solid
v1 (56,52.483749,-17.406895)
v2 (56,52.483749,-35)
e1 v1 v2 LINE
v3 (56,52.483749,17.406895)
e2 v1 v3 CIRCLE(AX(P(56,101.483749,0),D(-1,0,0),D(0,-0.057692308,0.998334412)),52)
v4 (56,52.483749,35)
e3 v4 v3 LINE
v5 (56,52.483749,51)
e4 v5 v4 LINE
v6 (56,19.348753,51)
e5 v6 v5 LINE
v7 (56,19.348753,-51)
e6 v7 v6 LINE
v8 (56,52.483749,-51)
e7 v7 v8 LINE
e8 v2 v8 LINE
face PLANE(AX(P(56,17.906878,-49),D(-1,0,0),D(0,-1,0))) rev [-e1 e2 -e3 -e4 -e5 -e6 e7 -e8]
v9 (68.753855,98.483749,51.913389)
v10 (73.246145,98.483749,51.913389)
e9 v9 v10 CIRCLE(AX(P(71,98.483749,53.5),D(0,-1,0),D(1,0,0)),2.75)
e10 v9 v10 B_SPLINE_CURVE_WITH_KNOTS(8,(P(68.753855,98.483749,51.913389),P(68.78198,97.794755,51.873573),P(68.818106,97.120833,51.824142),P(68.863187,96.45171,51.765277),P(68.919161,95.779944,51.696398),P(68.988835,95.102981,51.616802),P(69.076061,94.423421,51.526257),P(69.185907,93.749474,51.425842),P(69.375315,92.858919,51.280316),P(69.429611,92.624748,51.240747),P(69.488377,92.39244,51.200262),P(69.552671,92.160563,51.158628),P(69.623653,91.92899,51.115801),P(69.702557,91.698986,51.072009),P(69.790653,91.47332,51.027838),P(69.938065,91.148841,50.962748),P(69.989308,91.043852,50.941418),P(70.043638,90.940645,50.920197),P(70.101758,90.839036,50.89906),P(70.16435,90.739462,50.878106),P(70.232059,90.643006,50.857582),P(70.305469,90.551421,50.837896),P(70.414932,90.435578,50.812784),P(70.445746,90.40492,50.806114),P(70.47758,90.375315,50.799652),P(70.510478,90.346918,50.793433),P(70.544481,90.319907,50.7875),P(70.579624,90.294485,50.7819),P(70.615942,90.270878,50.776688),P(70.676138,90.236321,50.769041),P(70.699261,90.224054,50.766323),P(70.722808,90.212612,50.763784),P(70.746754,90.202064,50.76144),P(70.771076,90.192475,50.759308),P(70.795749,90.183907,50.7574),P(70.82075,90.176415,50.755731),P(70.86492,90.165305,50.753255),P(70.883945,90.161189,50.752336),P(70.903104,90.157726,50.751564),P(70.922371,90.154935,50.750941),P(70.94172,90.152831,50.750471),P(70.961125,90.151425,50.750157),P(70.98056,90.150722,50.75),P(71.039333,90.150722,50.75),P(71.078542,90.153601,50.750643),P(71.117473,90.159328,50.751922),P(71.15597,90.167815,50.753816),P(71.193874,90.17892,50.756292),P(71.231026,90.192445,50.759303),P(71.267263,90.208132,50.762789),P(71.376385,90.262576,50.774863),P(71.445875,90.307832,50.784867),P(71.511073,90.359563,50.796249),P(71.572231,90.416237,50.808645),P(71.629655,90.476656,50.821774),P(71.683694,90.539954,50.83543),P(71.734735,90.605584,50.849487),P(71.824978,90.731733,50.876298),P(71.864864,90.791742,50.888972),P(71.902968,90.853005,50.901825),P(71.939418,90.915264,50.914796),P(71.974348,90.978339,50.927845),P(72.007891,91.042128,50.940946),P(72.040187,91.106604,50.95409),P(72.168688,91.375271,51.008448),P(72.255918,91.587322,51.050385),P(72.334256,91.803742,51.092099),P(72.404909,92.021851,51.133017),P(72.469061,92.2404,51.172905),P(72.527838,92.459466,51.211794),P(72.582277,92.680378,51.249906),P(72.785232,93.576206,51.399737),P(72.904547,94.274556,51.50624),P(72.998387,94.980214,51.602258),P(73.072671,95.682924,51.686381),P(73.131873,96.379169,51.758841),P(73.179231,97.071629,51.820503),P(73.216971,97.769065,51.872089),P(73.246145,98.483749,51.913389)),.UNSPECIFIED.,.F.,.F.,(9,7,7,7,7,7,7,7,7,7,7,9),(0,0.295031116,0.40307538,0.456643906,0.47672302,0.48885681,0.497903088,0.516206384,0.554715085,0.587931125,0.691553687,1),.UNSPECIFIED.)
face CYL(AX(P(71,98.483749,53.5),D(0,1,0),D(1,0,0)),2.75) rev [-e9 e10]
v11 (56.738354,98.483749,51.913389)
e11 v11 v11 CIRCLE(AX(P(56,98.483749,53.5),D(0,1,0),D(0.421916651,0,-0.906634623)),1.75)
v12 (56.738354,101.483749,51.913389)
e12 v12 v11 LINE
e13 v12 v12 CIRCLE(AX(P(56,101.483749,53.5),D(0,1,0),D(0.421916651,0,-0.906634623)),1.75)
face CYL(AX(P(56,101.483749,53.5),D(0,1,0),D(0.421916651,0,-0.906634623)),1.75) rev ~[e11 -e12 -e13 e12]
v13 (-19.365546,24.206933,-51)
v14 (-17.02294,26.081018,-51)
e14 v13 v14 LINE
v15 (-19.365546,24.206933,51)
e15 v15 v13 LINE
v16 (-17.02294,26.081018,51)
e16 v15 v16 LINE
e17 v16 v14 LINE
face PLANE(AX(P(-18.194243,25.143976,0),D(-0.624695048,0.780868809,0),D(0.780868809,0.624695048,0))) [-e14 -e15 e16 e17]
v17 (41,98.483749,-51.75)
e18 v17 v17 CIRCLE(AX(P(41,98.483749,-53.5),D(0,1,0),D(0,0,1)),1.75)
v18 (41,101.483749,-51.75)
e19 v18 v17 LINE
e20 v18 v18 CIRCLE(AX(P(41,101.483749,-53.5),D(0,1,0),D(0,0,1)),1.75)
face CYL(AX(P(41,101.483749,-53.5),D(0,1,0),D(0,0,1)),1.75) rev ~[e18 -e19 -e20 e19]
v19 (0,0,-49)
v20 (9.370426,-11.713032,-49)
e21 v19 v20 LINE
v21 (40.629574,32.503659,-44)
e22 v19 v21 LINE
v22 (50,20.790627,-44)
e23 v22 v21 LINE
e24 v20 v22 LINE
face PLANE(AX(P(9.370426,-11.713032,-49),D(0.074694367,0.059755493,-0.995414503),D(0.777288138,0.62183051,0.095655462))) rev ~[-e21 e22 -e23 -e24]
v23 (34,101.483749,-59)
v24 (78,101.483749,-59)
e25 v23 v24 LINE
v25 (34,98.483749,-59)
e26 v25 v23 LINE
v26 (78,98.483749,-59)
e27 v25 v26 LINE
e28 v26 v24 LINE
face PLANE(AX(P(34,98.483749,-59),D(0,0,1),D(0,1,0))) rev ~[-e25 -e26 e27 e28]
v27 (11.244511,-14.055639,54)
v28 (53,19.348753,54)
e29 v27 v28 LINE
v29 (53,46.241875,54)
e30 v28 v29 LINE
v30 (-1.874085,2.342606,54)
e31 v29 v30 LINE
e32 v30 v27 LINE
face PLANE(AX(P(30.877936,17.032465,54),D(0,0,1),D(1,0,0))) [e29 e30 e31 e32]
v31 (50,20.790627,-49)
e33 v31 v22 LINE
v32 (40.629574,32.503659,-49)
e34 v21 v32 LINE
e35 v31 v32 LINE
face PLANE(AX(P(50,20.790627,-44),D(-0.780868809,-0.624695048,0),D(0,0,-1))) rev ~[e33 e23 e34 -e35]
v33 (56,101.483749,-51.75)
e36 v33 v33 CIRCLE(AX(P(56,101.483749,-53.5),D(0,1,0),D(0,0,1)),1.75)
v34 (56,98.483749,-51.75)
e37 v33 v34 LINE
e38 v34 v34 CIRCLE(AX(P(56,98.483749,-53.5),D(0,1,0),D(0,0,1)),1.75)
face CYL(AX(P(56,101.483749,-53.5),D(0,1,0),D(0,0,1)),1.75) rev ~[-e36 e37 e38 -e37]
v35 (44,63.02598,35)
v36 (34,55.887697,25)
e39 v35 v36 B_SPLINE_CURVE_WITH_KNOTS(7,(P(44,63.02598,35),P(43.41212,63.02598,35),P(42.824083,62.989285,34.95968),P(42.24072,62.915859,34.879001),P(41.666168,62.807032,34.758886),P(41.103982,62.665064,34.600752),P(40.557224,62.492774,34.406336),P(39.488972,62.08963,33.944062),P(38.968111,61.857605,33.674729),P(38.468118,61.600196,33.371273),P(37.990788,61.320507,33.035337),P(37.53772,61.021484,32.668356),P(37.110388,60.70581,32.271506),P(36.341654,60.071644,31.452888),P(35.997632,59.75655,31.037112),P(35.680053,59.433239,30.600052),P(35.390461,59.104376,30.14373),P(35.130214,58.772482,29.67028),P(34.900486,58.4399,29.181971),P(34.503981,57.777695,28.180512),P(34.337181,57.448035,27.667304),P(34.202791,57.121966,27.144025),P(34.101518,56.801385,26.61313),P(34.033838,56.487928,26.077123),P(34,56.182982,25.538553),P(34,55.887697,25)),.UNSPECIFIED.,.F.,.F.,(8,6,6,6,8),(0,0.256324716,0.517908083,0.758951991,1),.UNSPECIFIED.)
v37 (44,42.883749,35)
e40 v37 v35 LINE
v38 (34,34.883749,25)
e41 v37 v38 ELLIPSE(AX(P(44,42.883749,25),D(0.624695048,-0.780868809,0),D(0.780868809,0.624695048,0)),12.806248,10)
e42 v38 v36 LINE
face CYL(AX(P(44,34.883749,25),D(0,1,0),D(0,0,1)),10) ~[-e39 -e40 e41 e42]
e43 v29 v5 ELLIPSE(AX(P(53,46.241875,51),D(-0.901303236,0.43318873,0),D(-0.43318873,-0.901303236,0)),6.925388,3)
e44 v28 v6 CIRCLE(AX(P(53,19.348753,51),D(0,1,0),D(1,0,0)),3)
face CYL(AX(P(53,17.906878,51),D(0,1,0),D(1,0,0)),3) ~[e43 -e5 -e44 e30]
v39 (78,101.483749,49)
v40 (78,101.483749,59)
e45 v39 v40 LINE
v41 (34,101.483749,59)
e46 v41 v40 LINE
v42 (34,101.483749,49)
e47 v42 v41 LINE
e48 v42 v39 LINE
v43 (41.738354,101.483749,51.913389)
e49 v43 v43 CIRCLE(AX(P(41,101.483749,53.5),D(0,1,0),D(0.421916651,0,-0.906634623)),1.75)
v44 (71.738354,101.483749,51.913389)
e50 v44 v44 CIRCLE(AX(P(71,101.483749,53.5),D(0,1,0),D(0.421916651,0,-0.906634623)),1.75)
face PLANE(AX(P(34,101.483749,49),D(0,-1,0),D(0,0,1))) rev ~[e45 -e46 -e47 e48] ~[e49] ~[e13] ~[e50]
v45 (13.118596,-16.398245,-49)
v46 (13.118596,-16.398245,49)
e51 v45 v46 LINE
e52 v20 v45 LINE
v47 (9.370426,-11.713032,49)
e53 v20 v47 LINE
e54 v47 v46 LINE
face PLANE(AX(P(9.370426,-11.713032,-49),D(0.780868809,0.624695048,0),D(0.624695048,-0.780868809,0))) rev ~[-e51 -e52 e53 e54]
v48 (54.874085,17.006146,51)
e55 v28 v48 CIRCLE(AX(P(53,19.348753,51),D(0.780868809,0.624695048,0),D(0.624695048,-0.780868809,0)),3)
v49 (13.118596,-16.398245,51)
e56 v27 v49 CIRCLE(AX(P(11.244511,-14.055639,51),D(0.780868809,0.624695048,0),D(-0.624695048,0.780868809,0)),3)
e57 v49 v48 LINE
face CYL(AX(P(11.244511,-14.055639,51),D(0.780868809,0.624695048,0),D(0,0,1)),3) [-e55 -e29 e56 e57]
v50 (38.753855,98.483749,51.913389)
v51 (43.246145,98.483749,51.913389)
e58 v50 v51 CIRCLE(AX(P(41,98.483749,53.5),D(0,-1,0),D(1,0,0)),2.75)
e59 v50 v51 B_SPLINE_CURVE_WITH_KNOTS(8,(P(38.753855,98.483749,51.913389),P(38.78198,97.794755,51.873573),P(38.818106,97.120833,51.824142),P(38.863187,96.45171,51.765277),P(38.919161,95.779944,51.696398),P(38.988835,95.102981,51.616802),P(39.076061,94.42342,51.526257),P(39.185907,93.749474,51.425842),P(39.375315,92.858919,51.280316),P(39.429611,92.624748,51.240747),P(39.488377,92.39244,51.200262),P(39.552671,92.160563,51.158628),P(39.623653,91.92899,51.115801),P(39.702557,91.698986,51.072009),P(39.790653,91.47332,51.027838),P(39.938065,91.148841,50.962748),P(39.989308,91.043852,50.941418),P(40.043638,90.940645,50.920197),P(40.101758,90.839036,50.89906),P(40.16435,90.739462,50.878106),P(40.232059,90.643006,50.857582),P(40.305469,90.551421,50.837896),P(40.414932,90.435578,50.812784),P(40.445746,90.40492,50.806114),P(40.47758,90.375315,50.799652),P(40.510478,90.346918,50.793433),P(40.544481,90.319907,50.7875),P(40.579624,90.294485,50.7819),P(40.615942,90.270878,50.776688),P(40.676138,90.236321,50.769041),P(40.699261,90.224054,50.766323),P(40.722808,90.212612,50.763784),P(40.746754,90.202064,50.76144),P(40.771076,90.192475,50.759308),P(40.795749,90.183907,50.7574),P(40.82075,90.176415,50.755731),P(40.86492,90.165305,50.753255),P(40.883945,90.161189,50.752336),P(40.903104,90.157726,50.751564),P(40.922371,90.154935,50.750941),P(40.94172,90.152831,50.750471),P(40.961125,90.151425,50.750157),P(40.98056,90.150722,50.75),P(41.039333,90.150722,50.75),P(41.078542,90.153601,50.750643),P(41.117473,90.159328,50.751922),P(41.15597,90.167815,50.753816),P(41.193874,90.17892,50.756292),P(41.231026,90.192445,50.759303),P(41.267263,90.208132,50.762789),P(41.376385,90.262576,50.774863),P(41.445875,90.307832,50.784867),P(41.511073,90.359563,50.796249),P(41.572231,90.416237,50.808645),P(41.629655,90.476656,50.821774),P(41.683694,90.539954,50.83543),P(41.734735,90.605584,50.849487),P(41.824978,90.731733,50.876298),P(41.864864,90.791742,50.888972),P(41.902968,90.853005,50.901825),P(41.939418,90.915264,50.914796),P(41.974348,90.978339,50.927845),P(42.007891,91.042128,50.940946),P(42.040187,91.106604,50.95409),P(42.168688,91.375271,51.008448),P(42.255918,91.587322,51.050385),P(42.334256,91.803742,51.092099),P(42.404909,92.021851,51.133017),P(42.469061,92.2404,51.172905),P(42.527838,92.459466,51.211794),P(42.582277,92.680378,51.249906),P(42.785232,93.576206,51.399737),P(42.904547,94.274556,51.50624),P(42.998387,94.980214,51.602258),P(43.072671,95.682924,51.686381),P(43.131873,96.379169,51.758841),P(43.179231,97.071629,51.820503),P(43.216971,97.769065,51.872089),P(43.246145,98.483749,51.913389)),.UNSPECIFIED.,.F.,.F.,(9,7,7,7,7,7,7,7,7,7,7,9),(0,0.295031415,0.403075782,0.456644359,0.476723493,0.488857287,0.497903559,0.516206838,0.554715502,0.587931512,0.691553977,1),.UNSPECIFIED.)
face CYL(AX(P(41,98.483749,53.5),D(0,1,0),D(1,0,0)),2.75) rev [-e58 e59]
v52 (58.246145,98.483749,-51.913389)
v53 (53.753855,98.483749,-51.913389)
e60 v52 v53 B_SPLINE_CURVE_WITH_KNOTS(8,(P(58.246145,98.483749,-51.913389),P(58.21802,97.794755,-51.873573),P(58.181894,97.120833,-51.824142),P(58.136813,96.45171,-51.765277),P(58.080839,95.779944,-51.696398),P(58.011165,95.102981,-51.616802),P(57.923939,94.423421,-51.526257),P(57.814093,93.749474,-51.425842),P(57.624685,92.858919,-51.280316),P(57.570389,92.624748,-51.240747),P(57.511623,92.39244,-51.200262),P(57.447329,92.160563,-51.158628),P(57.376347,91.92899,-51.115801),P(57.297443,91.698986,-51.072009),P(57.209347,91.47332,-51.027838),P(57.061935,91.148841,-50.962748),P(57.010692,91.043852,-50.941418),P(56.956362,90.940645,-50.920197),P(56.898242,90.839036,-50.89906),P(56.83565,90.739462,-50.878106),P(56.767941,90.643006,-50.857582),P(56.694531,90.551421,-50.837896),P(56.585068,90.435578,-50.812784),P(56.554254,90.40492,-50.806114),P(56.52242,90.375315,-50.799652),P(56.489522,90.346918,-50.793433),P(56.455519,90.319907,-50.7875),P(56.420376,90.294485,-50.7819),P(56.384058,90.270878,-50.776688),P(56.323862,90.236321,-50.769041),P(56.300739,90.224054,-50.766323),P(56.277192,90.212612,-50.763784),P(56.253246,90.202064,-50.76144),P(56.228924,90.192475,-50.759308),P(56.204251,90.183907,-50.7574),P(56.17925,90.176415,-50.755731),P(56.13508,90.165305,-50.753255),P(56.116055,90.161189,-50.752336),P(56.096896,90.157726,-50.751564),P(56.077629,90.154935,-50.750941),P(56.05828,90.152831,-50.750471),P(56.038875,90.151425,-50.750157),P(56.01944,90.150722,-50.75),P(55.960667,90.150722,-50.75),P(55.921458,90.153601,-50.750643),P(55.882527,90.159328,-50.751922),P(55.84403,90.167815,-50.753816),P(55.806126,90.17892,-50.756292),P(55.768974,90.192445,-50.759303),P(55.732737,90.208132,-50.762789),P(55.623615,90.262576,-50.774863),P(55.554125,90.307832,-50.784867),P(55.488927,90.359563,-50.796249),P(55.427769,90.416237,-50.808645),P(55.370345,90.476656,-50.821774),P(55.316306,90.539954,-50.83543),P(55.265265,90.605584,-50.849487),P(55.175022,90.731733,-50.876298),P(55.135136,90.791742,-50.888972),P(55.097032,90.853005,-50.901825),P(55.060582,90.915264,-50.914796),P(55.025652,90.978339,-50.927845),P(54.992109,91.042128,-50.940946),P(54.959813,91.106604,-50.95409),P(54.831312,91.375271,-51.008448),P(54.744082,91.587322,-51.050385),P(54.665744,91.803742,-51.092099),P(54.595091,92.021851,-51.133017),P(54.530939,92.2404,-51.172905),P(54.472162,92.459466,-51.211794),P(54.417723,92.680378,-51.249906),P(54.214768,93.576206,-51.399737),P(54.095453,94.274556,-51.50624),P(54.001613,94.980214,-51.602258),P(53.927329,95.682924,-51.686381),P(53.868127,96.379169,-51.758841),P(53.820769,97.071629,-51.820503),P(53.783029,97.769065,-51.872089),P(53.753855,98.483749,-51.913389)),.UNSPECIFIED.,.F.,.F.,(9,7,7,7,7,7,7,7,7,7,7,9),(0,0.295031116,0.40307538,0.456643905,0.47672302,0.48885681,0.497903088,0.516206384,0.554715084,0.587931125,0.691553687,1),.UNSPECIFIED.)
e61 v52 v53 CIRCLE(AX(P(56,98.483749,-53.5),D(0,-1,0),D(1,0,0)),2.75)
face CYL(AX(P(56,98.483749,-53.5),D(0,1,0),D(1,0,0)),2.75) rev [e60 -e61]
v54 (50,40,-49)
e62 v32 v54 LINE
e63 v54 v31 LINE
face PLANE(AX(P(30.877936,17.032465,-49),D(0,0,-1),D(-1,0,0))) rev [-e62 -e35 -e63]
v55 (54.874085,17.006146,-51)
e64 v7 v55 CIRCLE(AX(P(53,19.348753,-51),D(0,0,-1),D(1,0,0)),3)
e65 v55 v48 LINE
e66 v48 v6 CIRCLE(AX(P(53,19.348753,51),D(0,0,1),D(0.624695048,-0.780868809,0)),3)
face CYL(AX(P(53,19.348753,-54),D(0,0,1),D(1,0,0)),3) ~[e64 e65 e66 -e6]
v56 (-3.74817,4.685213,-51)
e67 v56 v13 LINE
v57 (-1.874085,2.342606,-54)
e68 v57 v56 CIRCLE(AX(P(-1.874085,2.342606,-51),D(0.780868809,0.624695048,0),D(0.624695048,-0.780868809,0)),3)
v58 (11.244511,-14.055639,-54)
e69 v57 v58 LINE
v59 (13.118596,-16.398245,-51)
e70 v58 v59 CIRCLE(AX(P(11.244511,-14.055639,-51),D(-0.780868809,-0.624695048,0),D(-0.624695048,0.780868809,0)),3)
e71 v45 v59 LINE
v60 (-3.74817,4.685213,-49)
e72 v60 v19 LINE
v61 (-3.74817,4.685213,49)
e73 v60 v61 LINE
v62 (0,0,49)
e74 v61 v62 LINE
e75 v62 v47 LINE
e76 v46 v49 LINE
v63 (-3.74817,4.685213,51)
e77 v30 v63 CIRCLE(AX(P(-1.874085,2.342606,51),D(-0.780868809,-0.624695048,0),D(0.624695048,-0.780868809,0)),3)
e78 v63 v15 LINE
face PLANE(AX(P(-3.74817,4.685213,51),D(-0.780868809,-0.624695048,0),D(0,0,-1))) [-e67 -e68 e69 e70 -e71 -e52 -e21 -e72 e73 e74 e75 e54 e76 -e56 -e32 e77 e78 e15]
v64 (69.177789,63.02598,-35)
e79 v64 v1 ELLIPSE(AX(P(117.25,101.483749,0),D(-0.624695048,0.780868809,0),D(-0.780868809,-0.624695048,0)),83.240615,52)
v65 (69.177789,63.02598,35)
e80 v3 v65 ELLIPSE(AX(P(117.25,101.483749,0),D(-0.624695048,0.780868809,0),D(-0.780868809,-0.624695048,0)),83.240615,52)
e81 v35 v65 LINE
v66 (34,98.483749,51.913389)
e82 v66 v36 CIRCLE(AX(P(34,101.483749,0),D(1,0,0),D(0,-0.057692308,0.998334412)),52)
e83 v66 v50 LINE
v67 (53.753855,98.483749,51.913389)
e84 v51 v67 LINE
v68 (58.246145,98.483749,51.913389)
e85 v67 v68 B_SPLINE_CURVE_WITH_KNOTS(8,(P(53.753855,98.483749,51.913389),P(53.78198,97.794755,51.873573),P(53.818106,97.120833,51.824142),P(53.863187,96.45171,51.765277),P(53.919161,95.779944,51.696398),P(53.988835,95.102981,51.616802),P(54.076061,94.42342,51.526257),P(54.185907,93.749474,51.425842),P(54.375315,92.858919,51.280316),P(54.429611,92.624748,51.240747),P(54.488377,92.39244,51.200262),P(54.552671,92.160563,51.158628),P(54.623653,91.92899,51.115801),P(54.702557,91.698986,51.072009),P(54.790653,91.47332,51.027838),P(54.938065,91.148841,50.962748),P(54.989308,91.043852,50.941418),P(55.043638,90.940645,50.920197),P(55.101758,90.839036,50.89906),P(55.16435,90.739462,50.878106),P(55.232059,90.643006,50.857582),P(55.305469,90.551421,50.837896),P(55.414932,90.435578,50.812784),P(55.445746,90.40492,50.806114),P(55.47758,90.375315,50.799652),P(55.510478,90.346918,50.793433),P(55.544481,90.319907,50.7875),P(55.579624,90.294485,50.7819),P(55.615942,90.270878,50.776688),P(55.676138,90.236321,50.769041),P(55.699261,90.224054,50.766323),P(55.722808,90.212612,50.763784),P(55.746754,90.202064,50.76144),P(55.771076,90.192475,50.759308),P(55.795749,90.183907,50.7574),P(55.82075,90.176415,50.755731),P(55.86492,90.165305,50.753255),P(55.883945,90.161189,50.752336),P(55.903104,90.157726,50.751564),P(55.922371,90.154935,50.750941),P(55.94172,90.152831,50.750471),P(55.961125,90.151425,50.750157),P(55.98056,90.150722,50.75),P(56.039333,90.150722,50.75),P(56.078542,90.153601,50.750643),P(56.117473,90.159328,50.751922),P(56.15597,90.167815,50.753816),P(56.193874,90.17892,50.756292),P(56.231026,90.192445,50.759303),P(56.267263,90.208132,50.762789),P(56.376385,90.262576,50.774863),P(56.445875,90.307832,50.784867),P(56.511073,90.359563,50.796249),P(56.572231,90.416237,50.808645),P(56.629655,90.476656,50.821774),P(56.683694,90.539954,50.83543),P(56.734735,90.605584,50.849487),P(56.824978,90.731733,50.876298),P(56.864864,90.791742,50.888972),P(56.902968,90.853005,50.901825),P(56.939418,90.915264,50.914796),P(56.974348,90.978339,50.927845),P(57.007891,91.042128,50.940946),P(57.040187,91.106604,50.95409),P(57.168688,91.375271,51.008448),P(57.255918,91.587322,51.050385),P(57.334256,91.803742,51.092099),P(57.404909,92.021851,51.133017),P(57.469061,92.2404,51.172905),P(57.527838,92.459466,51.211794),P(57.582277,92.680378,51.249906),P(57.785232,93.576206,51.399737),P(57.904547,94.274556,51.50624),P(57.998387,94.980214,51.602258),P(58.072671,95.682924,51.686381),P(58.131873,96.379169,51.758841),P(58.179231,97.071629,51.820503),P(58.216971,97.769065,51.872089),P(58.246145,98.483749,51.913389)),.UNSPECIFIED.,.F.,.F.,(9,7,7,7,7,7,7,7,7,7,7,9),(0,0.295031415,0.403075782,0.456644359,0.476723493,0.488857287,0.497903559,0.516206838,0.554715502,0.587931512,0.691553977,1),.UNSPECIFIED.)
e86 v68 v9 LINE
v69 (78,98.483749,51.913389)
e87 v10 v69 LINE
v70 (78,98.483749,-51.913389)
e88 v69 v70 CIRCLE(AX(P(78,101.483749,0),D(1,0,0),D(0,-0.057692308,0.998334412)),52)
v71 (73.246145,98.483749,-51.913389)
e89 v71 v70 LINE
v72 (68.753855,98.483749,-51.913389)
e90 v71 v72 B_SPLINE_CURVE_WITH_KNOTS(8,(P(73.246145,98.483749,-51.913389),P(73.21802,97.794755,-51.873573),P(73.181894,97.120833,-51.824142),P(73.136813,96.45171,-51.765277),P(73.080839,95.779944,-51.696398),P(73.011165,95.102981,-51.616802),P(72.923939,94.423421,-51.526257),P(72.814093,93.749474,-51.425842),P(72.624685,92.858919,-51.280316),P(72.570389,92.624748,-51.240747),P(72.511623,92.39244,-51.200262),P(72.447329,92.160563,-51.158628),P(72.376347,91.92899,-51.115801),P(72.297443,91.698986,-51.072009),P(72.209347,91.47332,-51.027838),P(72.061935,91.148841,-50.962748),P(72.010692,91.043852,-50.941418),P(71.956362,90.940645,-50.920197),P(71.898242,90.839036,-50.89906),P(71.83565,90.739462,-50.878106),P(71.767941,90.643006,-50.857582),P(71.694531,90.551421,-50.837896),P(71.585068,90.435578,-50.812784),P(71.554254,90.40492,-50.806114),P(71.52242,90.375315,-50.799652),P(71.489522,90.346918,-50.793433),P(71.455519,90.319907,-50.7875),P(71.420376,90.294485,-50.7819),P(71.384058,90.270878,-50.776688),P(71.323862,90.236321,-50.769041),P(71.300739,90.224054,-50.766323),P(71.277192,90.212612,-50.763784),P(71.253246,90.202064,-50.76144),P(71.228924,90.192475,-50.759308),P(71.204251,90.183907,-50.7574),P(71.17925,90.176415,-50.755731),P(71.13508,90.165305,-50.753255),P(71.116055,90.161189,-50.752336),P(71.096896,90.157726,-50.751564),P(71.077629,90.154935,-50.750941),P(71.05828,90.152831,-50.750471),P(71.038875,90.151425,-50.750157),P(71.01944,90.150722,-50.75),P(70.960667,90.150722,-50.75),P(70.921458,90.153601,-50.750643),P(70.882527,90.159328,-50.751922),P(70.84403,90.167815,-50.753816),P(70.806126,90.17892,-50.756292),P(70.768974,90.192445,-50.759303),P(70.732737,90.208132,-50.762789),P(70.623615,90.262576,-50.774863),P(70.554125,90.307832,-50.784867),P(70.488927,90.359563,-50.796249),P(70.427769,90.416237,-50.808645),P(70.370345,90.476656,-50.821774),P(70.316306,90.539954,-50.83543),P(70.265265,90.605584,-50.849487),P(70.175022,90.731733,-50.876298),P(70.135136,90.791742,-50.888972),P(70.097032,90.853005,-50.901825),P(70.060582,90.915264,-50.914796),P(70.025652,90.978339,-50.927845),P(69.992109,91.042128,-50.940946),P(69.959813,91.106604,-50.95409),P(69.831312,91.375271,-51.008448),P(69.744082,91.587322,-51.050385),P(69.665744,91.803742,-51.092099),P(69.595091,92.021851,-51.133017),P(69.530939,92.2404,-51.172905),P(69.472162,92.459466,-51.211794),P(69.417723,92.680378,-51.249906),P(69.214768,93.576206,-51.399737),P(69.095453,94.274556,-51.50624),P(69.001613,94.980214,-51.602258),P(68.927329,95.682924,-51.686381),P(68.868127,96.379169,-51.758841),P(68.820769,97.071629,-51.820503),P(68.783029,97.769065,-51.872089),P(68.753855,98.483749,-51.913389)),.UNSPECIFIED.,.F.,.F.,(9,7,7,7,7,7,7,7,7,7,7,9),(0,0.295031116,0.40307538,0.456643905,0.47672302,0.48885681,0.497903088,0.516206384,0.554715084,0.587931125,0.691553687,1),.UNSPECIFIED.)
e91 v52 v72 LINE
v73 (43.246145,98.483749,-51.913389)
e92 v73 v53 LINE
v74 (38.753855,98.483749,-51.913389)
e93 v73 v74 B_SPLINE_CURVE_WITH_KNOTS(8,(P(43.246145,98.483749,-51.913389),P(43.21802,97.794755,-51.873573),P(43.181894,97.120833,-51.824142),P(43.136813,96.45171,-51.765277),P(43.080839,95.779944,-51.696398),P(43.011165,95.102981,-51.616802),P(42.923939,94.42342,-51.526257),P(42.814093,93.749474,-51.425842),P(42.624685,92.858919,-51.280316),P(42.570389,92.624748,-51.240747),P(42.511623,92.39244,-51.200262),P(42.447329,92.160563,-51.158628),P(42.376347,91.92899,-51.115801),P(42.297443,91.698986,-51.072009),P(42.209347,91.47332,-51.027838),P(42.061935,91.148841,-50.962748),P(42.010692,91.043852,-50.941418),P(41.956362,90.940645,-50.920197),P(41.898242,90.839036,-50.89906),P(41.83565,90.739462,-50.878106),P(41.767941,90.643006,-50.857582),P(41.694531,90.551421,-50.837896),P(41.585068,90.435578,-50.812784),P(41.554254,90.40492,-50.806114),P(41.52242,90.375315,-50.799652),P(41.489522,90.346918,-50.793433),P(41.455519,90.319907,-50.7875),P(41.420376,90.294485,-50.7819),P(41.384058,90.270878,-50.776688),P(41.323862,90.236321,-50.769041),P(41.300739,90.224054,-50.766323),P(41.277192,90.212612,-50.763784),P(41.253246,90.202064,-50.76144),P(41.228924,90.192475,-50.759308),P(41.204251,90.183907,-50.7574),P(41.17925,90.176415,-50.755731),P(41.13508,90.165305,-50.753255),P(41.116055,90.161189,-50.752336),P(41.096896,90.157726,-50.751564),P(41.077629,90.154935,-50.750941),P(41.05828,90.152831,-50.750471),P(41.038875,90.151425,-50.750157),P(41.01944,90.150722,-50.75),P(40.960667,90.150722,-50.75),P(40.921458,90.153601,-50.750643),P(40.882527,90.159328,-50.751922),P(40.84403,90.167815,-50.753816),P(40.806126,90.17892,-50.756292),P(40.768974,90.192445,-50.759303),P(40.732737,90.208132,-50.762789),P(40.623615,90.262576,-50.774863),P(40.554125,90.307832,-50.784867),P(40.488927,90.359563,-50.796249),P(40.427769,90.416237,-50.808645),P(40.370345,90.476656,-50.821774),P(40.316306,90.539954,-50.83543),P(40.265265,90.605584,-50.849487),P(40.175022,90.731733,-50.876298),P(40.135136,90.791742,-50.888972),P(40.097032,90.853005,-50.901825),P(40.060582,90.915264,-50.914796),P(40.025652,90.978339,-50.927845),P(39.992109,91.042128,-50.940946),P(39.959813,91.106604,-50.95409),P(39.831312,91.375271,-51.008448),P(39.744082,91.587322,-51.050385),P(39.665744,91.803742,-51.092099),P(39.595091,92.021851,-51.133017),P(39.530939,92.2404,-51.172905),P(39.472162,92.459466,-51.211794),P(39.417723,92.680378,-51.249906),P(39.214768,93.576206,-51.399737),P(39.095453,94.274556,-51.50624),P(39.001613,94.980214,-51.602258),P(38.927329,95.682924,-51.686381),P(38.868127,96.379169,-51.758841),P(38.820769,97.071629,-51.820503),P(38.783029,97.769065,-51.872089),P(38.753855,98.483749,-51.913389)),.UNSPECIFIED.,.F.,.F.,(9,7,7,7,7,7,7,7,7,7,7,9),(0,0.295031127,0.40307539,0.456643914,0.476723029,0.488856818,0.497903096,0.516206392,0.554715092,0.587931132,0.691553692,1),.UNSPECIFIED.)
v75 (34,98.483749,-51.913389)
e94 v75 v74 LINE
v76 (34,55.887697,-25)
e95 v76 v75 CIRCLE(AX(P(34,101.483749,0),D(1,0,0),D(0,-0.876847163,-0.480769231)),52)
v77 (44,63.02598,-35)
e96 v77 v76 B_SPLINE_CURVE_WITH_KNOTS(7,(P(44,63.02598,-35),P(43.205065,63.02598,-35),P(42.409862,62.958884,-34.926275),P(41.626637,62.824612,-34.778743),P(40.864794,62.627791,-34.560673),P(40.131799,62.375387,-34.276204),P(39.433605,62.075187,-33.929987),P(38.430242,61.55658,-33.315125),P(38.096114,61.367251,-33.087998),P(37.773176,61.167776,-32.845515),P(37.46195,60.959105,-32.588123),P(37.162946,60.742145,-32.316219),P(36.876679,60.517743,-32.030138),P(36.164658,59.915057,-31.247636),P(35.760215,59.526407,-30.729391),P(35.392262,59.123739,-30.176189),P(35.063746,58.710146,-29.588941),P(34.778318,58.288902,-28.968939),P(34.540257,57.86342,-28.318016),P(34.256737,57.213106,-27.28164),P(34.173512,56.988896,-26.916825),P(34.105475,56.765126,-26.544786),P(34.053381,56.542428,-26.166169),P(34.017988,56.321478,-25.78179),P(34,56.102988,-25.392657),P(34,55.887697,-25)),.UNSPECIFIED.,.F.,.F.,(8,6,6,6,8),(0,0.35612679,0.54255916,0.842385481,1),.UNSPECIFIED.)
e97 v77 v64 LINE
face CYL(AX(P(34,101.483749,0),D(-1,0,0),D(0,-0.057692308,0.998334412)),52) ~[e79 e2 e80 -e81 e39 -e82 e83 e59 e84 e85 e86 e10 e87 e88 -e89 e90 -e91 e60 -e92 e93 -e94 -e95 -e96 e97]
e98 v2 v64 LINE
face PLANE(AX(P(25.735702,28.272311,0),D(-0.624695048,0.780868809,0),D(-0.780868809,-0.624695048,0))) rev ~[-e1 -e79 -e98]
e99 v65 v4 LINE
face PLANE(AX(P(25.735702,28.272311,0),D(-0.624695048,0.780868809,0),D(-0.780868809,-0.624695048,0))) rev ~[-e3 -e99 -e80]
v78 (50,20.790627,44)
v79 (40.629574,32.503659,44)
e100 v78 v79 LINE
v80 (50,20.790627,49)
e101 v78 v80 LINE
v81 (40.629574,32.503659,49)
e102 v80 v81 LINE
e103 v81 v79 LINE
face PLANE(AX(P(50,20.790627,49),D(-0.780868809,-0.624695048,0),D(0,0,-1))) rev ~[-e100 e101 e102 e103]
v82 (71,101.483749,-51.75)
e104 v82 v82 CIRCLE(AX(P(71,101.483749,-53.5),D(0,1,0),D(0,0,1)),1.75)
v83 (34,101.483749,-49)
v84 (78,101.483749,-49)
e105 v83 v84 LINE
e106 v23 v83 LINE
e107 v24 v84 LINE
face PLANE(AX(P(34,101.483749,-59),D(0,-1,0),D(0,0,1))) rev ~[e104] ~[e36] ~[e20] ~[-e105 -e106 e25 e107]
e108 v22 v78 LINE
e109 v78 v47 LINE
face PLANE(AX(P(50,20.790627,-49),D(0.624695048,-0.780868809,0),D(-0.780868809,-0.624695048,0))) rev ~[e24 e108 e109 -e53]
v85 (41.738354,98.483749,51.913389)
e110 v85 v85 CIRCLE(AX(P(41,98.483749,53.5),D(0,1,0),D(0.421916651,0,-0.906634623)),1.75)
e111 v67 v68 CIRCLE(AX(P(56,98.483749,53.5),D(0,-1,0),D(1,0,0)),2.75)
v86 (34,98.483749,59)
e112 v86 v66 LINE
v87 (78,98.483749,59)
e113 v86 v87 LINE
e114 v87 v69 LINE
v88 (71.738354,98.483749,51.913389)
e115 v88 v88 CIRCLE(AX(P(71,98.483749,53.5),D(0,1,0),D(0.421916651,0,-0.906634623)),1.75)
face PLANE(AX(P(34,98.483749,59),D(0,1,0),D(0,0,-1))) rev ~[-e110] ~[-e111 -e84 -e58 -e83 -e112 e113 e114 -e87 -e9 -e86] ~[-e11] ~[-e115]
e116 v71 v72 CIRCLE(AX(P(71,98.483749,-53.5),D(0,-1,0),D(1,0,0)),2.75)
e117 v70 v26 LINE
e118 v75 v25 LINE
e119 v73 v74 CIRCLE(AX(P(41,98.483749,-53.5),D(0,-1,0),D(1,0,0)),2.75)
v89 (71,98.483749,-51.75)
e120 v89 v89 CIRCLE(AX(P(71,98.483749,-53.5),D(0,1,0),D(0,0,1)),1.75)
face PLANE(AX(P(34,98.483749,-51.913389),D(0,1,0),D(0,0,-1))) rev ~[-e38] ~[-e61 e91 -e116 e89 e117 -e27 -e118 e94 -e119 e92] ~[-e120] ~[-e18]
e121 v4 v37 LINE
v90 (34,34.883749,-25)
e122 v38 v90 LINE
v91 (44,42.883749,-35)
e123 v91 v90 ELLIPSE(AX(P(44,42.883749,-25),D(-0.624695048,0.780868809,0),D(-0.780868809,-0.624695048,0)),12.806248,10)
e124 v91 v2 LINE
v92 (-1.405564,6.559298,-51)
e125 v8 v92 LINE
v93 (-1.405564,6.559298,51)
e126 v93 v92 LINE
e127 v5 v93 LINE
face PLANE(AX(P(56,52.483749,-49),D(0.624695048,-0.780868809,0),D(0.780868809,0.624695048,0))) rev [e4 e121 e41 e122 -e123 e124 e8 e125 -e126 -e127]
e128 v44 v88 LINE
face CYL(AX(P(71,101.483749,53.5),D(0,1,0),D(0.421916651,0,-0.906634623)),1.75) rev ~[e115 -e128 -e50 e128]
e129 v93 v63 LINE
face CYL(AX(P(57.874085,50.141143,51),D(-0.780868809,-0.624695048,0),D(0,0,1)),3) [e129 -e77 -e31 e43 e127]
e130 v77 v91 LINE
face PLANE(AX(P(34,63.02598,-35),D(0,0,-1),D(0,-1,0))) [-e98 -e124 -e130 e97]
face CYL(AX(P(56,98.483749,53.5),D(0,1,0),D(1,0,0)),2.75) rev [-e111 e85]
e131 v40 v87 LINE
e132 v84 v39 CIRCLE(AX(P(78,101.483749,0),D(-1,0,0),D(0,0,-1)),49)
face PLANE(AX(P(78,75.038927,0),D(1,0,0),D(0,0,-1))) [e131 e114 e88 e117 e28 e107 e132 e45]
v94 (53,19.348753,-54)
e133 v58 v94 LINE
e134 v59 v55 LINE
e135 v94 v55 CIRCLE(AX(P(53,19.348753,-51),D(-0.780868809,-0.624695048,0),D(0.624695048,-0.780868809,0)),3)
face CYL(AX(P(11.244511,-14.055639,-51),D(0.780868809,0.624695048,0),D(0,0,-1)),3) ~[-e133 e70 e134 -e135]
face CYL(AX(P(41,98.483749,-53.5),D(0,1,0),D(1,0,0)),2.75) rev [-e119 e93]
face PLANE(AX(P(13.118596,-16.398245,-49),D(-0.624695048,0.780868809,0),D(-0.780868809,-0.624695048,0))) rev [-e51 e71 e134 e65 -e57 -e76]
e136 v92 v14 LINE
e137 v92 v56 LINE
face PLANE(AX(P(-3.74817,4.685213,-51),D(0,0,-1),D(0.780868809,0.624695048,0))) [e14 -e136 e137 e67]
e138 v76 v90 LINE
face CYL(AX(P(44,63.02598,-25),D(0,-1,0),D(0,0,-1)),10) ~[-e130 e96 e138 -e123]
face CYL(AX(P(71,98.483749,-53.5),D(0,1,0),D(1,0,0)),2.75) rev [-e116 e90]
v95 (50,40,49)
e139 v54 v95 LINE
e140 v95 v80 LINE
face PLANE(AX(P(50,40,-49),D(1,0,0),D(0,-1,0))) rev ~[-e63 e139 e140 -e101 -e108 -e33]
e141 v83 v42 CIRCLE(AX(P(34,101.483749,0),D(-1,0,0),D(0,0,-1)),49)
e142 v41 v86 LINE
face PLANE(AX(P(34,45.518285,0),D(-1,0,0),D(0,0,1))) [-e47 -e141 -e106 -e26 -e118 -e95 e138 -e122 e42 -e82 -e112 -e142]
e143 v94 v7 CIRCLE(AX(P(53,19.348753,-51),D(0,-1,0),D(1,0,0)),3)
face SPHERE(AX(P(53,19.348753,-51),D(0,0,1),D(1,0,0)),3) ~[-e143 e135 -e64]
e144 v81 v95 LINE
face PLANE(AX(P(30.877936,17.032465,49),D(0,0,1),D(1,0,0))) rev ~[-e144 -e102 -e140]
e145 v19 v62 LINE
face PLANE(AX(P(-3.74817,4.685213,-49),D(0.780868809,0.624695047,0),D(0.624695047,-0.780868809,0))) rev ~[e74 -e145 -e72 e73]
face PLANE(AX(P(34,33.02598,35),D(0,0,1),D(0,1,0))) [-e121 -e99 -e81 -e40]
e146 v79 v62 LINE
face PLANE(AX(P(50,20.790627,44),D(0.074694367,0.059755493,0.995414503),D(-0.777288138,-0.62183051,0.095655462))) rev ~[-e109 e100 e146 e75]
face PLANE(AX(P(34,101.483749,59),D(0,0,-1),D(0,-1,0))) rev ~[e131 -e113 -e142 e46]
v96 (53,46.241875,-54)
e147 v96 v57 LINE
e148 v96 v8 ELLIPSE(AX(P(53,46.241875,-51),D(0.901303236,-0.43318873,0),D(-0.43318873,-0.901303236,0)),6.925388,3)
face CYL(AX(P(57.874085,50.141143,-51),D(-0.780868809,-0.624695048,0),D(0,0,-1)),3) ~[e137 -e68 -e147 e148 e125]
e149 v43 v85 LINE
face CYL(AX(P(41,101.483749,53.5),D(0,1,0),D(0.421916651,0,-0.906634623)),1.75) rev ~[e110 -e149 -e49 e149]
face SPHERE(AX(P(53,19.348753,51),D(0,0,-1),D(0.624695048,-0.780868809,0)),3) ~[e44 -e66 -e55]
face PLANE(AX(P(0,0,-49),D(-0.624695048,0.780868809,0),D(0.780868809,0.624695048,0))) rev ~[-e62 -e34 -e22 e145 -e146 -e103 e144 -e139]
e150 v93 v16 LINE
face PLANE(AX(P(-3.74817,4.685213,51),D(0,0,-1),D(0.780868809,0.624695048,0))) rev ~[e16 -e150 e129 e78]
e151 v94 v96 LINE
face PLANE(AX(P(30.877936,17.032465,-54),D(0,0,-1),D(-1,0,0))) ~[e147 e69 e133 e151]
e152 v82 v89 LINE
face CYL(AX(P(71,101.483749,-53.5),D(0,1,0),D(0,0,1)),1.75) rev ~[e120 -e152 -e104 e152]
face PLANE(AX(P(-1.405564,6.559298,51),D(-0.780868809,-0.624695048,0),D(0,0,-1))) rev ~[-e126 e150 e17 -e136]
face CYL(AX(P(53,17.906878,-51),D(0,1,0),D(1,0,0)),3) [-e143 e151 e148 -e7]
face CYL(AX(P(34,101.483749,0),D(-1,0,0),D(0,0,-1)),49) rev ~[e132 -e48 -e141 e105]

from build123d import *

# Parameters (mm, degrees)
BOSS_EXTRUDE1_DEPTH      = 49
BOSS_EXTRUDE1_DEPTH_BACK = 49
BOSS_EXTRUDE2_DEPTH      = 5
BOSS_EXTRUDE4_DEPTH      = 15
BOSS_EXTRUDE5_DEPTH      = 22
BOSS_EXTRUDE5_DEPTH_BACK = 22
BOSS_EXTRUDE6_REACH      = 127.363
SKETCH7_R                = 1.75
CUT_EXTRUDE1_DEPTH       = 25
SKETCH8_R                = 2.75
CUT_EXTRUDE2_DEPTH       = 25
FILLET1_R                = 10
FILLET2_R                = 3
SKETCH9_W                = 3
SKETCH9_H                = 102
BOSS_EXTRUDE7_DEPTH      = 25


with BuildPart() as part:
    # Sketch1 → Boss-Extrude1 (new, two sides: drawn at the far end of the back side and taken through both)
    with BuildSketch(Plane.XY.offset(-BOSS_EXTRUDE1_DEPTH_BACK)):
        Polygon((0, 0), (50, 40), (50, 20.790627288), (9.370425713, -11.713032142), (13.118595999, -16.398244998), (56, 17.906878203), (56, 52.483749085), (-3.748170285, 4.685212857), align=None)
    extrude(amount=BOSS_EXTRUDE1_DEPTH + BOSS_EXTRUDE1_DEPTH_BACK)

    # Sketch2 → Boss-Extrude2 (add)
    with BuildSketch(Plane.XY.offset(49)):
        Polygon((-3.748170285, 4.685212857), (13.118595999, -16.398244998), (56, 17.906878203), (56, 52.483749085), align=None)
    boss_extrude2 = extrude(amount=BOSS_EXTRUDE2_DEPTH)

    # Mirror1: Boss-Extrude2 across plane
    add(boss_extrude2.mirror(Plane.XY))

    # Sketch4 → Boss-Extrude4 (add)
    with BuildSketch(Plane(origin=(9.370425713, -11.713032142, 0), x_dir=(0.7808688094430303, 0.6246950475544244, 0), z_dir=(-0.6246950475544244, 0.7808688094430304, 0))):
        Polygon((52.031242374, 49), (0, 49), (52.031242374, 44), align=None)
        Polygon((52.031242374, -49), (52.031242374, -44), (0, -49), align=None)
    extrude(amount=BOSS_EXTRUDE4_DEPTH)

    # Sketch5 → Boss-Extrude5 (add, two sides: drawn at the far end of the back side and taken through both)
    with BuildSketch(Plane(origin=(56, 0, 0), x_dir=(0, 0, -1), z_dir=(1, 0, 0)).offset(-BOSS_EXTRUDE5_DEPTH_BACK)):
        with BuildLine():
            Line((-49, 101.483749085), (-59, 101.483749085))
            Line((-59, 101.483749085), (-59, 98.483749085))
            Line((-59, 98.483749085), (-51.91338941, 98.483749085))
            ThreePointArc((-51.91338941, 98.483749085), (0, 49.483749085), (51.91338941, 98.483749085))
            Line((51.91338941, 98.483749085), (59, 98.483749085))
            Line((59, 98.483749085), (59, 101.483749085))
            Line((59, 101.483749085), (49, 101.483749085))
            ThreePointArc((49, 101.483749085), (0, 52.483749085), (-49, 101.483749085))
        make_face()
    extrude(amount=BOSS_EXTRUDE5_DEPTH + BOSS_EXTRUDE5_DEPTH_BACK)

    # Boss-Extrude6: up to this face of the body (flat: up to its plane)
    boss_extrude6_end = Plane(part.part.faces().sort_by_distance((25.735702215, 28.272310857, 0))[0])
    # Sketch6 → Boss-Extrude6 (add, up to the picked face)
    with BuildSketch(Plane.ZY.offset(-34), mode=Mode.PRIVATE) as boss_extrude6_sk1:
        with BuildLine():
            Line((-35, 63.025980039), (-35, 33.025980039))
            Line((-35, 33.025980039), (35, 33.025980039))
            Line((35, 33.025980039), (35, 63.025980039))
            ThreePointArc((35, 63.025980039), (0, 49.483749085), (-35, 63.025980039))
        make_face()
    boss_extrude6_tool1 = split(extrude(boss_extrude6_sk1.sketch, amount=-BOSS_EXTRUDE6_REACH, mode=Mode.PRIVATE), bisect_by=boss_extrude6_end, keep=Keep.BOTH, mode=Mode.PRIVATE)
    add(boss_extrude6_tool1.solids().sort_by(Axis((34, 43.754603, 0), (1, 0, 0)))[0])

    # Sketch7 → Cut-Extrude1 (cut)
    with BuildSketch(Plane(origin=(0, 101.483749085, 0), x_dir=(1, 0, 0), z_dir=(0, 1, 0))):
        with Locations(Location((56, 53.5, 0), (0, 0, 270))):
            Circle(SKETCH7_R)
        with Locations(Location((41, 53.5, 0), (0, 0, 270))):
            Circle(SKETCH7_R)
        with Locations(Location((71, 53.5, 0), (0, 0, 270))):
            Circle(SKETCH7_R)
        with Locations(Location((71, -53.5, 0), (0, 0, 65.044347067))):
            Circle(SKETCH7_R)
        with Locations(Location((56, -53.5, 0), (0, 0, 65.044347067))):
            Circle(SKETCH7_R)
        with Locations(Location((41, -53.5, 0), (0, 0, 65.044347067))):
            Circle(SKETCH7_R)
    extrude(amount=-CUT_EXTRUDE1_DEPTH, mode=Mode.SUBTRACT)

    # Sketch8 → Cut-Extrude2 (cut)
    with BuildSketch(Plane.XZ.offset(-98.483749085)):
        with Locations((41, -53.5)):
            Circle(SKETCH8_R)
        with Locations((56, -53.5)):
            Circle(SKETCH8_R)
        with Locations((71, -53.5)):
            Circle(SKETCH8_R)
        with Locations((71, 53.5)):
            Circle(SKETCH8_R)
        with Locations((56, 53.5)):
            Circle(SKETCH8_R)
        with Locations((41, 53.5)):
            Circle(SKETCH8_R)
    extrude(amount=CUT_EXTRUDE2_DEPTH, mode=Mode.SUBTRACT)

    # Fillet1
    fillet1_edges = [part.edges().sort_by_distance(p)[0] for p in [
        (34, 48.954864562, 35),
        (34, 48.954864562, -35),
    ]]
    fillet(fillet1_edges, radius=FILLET1_R)

    # Fillet2
    fillet2_edges = [part.edges().sort_by_distance(p)[0] for p in [
        (56, 17.906878203, 0),
        (26.125914857, 28.584480971, 54),
        (34.559297999, 0.754316602, 54),
        (56, 35.195313644, 54),
        (26.125914857, 28.584480971, -54),
        (56, 35.195313644, -54),
        (34.559297999, 0.754316602, -54),
    ]]
    fillet(fillet2_edges, radius=FILLET2_R)

    # Sketch9 → Boss-Extrude7 (add)
    with BuildSketch(Plane(origin=(-3.748170285, 4.685212857, 0), x_dir=(0.7808688094430302, 0.6246950475544245, 0), z_dir=(-0.6246950475544245, 0.7808688094430302, 0))):
        with Locations((1.5, 0)):
            Rectangle(SKETCH9_W, SKETCH9_H)
    extrude(amount=BOSS_EXTRUDE7_DEPTH)


solid = part.part
